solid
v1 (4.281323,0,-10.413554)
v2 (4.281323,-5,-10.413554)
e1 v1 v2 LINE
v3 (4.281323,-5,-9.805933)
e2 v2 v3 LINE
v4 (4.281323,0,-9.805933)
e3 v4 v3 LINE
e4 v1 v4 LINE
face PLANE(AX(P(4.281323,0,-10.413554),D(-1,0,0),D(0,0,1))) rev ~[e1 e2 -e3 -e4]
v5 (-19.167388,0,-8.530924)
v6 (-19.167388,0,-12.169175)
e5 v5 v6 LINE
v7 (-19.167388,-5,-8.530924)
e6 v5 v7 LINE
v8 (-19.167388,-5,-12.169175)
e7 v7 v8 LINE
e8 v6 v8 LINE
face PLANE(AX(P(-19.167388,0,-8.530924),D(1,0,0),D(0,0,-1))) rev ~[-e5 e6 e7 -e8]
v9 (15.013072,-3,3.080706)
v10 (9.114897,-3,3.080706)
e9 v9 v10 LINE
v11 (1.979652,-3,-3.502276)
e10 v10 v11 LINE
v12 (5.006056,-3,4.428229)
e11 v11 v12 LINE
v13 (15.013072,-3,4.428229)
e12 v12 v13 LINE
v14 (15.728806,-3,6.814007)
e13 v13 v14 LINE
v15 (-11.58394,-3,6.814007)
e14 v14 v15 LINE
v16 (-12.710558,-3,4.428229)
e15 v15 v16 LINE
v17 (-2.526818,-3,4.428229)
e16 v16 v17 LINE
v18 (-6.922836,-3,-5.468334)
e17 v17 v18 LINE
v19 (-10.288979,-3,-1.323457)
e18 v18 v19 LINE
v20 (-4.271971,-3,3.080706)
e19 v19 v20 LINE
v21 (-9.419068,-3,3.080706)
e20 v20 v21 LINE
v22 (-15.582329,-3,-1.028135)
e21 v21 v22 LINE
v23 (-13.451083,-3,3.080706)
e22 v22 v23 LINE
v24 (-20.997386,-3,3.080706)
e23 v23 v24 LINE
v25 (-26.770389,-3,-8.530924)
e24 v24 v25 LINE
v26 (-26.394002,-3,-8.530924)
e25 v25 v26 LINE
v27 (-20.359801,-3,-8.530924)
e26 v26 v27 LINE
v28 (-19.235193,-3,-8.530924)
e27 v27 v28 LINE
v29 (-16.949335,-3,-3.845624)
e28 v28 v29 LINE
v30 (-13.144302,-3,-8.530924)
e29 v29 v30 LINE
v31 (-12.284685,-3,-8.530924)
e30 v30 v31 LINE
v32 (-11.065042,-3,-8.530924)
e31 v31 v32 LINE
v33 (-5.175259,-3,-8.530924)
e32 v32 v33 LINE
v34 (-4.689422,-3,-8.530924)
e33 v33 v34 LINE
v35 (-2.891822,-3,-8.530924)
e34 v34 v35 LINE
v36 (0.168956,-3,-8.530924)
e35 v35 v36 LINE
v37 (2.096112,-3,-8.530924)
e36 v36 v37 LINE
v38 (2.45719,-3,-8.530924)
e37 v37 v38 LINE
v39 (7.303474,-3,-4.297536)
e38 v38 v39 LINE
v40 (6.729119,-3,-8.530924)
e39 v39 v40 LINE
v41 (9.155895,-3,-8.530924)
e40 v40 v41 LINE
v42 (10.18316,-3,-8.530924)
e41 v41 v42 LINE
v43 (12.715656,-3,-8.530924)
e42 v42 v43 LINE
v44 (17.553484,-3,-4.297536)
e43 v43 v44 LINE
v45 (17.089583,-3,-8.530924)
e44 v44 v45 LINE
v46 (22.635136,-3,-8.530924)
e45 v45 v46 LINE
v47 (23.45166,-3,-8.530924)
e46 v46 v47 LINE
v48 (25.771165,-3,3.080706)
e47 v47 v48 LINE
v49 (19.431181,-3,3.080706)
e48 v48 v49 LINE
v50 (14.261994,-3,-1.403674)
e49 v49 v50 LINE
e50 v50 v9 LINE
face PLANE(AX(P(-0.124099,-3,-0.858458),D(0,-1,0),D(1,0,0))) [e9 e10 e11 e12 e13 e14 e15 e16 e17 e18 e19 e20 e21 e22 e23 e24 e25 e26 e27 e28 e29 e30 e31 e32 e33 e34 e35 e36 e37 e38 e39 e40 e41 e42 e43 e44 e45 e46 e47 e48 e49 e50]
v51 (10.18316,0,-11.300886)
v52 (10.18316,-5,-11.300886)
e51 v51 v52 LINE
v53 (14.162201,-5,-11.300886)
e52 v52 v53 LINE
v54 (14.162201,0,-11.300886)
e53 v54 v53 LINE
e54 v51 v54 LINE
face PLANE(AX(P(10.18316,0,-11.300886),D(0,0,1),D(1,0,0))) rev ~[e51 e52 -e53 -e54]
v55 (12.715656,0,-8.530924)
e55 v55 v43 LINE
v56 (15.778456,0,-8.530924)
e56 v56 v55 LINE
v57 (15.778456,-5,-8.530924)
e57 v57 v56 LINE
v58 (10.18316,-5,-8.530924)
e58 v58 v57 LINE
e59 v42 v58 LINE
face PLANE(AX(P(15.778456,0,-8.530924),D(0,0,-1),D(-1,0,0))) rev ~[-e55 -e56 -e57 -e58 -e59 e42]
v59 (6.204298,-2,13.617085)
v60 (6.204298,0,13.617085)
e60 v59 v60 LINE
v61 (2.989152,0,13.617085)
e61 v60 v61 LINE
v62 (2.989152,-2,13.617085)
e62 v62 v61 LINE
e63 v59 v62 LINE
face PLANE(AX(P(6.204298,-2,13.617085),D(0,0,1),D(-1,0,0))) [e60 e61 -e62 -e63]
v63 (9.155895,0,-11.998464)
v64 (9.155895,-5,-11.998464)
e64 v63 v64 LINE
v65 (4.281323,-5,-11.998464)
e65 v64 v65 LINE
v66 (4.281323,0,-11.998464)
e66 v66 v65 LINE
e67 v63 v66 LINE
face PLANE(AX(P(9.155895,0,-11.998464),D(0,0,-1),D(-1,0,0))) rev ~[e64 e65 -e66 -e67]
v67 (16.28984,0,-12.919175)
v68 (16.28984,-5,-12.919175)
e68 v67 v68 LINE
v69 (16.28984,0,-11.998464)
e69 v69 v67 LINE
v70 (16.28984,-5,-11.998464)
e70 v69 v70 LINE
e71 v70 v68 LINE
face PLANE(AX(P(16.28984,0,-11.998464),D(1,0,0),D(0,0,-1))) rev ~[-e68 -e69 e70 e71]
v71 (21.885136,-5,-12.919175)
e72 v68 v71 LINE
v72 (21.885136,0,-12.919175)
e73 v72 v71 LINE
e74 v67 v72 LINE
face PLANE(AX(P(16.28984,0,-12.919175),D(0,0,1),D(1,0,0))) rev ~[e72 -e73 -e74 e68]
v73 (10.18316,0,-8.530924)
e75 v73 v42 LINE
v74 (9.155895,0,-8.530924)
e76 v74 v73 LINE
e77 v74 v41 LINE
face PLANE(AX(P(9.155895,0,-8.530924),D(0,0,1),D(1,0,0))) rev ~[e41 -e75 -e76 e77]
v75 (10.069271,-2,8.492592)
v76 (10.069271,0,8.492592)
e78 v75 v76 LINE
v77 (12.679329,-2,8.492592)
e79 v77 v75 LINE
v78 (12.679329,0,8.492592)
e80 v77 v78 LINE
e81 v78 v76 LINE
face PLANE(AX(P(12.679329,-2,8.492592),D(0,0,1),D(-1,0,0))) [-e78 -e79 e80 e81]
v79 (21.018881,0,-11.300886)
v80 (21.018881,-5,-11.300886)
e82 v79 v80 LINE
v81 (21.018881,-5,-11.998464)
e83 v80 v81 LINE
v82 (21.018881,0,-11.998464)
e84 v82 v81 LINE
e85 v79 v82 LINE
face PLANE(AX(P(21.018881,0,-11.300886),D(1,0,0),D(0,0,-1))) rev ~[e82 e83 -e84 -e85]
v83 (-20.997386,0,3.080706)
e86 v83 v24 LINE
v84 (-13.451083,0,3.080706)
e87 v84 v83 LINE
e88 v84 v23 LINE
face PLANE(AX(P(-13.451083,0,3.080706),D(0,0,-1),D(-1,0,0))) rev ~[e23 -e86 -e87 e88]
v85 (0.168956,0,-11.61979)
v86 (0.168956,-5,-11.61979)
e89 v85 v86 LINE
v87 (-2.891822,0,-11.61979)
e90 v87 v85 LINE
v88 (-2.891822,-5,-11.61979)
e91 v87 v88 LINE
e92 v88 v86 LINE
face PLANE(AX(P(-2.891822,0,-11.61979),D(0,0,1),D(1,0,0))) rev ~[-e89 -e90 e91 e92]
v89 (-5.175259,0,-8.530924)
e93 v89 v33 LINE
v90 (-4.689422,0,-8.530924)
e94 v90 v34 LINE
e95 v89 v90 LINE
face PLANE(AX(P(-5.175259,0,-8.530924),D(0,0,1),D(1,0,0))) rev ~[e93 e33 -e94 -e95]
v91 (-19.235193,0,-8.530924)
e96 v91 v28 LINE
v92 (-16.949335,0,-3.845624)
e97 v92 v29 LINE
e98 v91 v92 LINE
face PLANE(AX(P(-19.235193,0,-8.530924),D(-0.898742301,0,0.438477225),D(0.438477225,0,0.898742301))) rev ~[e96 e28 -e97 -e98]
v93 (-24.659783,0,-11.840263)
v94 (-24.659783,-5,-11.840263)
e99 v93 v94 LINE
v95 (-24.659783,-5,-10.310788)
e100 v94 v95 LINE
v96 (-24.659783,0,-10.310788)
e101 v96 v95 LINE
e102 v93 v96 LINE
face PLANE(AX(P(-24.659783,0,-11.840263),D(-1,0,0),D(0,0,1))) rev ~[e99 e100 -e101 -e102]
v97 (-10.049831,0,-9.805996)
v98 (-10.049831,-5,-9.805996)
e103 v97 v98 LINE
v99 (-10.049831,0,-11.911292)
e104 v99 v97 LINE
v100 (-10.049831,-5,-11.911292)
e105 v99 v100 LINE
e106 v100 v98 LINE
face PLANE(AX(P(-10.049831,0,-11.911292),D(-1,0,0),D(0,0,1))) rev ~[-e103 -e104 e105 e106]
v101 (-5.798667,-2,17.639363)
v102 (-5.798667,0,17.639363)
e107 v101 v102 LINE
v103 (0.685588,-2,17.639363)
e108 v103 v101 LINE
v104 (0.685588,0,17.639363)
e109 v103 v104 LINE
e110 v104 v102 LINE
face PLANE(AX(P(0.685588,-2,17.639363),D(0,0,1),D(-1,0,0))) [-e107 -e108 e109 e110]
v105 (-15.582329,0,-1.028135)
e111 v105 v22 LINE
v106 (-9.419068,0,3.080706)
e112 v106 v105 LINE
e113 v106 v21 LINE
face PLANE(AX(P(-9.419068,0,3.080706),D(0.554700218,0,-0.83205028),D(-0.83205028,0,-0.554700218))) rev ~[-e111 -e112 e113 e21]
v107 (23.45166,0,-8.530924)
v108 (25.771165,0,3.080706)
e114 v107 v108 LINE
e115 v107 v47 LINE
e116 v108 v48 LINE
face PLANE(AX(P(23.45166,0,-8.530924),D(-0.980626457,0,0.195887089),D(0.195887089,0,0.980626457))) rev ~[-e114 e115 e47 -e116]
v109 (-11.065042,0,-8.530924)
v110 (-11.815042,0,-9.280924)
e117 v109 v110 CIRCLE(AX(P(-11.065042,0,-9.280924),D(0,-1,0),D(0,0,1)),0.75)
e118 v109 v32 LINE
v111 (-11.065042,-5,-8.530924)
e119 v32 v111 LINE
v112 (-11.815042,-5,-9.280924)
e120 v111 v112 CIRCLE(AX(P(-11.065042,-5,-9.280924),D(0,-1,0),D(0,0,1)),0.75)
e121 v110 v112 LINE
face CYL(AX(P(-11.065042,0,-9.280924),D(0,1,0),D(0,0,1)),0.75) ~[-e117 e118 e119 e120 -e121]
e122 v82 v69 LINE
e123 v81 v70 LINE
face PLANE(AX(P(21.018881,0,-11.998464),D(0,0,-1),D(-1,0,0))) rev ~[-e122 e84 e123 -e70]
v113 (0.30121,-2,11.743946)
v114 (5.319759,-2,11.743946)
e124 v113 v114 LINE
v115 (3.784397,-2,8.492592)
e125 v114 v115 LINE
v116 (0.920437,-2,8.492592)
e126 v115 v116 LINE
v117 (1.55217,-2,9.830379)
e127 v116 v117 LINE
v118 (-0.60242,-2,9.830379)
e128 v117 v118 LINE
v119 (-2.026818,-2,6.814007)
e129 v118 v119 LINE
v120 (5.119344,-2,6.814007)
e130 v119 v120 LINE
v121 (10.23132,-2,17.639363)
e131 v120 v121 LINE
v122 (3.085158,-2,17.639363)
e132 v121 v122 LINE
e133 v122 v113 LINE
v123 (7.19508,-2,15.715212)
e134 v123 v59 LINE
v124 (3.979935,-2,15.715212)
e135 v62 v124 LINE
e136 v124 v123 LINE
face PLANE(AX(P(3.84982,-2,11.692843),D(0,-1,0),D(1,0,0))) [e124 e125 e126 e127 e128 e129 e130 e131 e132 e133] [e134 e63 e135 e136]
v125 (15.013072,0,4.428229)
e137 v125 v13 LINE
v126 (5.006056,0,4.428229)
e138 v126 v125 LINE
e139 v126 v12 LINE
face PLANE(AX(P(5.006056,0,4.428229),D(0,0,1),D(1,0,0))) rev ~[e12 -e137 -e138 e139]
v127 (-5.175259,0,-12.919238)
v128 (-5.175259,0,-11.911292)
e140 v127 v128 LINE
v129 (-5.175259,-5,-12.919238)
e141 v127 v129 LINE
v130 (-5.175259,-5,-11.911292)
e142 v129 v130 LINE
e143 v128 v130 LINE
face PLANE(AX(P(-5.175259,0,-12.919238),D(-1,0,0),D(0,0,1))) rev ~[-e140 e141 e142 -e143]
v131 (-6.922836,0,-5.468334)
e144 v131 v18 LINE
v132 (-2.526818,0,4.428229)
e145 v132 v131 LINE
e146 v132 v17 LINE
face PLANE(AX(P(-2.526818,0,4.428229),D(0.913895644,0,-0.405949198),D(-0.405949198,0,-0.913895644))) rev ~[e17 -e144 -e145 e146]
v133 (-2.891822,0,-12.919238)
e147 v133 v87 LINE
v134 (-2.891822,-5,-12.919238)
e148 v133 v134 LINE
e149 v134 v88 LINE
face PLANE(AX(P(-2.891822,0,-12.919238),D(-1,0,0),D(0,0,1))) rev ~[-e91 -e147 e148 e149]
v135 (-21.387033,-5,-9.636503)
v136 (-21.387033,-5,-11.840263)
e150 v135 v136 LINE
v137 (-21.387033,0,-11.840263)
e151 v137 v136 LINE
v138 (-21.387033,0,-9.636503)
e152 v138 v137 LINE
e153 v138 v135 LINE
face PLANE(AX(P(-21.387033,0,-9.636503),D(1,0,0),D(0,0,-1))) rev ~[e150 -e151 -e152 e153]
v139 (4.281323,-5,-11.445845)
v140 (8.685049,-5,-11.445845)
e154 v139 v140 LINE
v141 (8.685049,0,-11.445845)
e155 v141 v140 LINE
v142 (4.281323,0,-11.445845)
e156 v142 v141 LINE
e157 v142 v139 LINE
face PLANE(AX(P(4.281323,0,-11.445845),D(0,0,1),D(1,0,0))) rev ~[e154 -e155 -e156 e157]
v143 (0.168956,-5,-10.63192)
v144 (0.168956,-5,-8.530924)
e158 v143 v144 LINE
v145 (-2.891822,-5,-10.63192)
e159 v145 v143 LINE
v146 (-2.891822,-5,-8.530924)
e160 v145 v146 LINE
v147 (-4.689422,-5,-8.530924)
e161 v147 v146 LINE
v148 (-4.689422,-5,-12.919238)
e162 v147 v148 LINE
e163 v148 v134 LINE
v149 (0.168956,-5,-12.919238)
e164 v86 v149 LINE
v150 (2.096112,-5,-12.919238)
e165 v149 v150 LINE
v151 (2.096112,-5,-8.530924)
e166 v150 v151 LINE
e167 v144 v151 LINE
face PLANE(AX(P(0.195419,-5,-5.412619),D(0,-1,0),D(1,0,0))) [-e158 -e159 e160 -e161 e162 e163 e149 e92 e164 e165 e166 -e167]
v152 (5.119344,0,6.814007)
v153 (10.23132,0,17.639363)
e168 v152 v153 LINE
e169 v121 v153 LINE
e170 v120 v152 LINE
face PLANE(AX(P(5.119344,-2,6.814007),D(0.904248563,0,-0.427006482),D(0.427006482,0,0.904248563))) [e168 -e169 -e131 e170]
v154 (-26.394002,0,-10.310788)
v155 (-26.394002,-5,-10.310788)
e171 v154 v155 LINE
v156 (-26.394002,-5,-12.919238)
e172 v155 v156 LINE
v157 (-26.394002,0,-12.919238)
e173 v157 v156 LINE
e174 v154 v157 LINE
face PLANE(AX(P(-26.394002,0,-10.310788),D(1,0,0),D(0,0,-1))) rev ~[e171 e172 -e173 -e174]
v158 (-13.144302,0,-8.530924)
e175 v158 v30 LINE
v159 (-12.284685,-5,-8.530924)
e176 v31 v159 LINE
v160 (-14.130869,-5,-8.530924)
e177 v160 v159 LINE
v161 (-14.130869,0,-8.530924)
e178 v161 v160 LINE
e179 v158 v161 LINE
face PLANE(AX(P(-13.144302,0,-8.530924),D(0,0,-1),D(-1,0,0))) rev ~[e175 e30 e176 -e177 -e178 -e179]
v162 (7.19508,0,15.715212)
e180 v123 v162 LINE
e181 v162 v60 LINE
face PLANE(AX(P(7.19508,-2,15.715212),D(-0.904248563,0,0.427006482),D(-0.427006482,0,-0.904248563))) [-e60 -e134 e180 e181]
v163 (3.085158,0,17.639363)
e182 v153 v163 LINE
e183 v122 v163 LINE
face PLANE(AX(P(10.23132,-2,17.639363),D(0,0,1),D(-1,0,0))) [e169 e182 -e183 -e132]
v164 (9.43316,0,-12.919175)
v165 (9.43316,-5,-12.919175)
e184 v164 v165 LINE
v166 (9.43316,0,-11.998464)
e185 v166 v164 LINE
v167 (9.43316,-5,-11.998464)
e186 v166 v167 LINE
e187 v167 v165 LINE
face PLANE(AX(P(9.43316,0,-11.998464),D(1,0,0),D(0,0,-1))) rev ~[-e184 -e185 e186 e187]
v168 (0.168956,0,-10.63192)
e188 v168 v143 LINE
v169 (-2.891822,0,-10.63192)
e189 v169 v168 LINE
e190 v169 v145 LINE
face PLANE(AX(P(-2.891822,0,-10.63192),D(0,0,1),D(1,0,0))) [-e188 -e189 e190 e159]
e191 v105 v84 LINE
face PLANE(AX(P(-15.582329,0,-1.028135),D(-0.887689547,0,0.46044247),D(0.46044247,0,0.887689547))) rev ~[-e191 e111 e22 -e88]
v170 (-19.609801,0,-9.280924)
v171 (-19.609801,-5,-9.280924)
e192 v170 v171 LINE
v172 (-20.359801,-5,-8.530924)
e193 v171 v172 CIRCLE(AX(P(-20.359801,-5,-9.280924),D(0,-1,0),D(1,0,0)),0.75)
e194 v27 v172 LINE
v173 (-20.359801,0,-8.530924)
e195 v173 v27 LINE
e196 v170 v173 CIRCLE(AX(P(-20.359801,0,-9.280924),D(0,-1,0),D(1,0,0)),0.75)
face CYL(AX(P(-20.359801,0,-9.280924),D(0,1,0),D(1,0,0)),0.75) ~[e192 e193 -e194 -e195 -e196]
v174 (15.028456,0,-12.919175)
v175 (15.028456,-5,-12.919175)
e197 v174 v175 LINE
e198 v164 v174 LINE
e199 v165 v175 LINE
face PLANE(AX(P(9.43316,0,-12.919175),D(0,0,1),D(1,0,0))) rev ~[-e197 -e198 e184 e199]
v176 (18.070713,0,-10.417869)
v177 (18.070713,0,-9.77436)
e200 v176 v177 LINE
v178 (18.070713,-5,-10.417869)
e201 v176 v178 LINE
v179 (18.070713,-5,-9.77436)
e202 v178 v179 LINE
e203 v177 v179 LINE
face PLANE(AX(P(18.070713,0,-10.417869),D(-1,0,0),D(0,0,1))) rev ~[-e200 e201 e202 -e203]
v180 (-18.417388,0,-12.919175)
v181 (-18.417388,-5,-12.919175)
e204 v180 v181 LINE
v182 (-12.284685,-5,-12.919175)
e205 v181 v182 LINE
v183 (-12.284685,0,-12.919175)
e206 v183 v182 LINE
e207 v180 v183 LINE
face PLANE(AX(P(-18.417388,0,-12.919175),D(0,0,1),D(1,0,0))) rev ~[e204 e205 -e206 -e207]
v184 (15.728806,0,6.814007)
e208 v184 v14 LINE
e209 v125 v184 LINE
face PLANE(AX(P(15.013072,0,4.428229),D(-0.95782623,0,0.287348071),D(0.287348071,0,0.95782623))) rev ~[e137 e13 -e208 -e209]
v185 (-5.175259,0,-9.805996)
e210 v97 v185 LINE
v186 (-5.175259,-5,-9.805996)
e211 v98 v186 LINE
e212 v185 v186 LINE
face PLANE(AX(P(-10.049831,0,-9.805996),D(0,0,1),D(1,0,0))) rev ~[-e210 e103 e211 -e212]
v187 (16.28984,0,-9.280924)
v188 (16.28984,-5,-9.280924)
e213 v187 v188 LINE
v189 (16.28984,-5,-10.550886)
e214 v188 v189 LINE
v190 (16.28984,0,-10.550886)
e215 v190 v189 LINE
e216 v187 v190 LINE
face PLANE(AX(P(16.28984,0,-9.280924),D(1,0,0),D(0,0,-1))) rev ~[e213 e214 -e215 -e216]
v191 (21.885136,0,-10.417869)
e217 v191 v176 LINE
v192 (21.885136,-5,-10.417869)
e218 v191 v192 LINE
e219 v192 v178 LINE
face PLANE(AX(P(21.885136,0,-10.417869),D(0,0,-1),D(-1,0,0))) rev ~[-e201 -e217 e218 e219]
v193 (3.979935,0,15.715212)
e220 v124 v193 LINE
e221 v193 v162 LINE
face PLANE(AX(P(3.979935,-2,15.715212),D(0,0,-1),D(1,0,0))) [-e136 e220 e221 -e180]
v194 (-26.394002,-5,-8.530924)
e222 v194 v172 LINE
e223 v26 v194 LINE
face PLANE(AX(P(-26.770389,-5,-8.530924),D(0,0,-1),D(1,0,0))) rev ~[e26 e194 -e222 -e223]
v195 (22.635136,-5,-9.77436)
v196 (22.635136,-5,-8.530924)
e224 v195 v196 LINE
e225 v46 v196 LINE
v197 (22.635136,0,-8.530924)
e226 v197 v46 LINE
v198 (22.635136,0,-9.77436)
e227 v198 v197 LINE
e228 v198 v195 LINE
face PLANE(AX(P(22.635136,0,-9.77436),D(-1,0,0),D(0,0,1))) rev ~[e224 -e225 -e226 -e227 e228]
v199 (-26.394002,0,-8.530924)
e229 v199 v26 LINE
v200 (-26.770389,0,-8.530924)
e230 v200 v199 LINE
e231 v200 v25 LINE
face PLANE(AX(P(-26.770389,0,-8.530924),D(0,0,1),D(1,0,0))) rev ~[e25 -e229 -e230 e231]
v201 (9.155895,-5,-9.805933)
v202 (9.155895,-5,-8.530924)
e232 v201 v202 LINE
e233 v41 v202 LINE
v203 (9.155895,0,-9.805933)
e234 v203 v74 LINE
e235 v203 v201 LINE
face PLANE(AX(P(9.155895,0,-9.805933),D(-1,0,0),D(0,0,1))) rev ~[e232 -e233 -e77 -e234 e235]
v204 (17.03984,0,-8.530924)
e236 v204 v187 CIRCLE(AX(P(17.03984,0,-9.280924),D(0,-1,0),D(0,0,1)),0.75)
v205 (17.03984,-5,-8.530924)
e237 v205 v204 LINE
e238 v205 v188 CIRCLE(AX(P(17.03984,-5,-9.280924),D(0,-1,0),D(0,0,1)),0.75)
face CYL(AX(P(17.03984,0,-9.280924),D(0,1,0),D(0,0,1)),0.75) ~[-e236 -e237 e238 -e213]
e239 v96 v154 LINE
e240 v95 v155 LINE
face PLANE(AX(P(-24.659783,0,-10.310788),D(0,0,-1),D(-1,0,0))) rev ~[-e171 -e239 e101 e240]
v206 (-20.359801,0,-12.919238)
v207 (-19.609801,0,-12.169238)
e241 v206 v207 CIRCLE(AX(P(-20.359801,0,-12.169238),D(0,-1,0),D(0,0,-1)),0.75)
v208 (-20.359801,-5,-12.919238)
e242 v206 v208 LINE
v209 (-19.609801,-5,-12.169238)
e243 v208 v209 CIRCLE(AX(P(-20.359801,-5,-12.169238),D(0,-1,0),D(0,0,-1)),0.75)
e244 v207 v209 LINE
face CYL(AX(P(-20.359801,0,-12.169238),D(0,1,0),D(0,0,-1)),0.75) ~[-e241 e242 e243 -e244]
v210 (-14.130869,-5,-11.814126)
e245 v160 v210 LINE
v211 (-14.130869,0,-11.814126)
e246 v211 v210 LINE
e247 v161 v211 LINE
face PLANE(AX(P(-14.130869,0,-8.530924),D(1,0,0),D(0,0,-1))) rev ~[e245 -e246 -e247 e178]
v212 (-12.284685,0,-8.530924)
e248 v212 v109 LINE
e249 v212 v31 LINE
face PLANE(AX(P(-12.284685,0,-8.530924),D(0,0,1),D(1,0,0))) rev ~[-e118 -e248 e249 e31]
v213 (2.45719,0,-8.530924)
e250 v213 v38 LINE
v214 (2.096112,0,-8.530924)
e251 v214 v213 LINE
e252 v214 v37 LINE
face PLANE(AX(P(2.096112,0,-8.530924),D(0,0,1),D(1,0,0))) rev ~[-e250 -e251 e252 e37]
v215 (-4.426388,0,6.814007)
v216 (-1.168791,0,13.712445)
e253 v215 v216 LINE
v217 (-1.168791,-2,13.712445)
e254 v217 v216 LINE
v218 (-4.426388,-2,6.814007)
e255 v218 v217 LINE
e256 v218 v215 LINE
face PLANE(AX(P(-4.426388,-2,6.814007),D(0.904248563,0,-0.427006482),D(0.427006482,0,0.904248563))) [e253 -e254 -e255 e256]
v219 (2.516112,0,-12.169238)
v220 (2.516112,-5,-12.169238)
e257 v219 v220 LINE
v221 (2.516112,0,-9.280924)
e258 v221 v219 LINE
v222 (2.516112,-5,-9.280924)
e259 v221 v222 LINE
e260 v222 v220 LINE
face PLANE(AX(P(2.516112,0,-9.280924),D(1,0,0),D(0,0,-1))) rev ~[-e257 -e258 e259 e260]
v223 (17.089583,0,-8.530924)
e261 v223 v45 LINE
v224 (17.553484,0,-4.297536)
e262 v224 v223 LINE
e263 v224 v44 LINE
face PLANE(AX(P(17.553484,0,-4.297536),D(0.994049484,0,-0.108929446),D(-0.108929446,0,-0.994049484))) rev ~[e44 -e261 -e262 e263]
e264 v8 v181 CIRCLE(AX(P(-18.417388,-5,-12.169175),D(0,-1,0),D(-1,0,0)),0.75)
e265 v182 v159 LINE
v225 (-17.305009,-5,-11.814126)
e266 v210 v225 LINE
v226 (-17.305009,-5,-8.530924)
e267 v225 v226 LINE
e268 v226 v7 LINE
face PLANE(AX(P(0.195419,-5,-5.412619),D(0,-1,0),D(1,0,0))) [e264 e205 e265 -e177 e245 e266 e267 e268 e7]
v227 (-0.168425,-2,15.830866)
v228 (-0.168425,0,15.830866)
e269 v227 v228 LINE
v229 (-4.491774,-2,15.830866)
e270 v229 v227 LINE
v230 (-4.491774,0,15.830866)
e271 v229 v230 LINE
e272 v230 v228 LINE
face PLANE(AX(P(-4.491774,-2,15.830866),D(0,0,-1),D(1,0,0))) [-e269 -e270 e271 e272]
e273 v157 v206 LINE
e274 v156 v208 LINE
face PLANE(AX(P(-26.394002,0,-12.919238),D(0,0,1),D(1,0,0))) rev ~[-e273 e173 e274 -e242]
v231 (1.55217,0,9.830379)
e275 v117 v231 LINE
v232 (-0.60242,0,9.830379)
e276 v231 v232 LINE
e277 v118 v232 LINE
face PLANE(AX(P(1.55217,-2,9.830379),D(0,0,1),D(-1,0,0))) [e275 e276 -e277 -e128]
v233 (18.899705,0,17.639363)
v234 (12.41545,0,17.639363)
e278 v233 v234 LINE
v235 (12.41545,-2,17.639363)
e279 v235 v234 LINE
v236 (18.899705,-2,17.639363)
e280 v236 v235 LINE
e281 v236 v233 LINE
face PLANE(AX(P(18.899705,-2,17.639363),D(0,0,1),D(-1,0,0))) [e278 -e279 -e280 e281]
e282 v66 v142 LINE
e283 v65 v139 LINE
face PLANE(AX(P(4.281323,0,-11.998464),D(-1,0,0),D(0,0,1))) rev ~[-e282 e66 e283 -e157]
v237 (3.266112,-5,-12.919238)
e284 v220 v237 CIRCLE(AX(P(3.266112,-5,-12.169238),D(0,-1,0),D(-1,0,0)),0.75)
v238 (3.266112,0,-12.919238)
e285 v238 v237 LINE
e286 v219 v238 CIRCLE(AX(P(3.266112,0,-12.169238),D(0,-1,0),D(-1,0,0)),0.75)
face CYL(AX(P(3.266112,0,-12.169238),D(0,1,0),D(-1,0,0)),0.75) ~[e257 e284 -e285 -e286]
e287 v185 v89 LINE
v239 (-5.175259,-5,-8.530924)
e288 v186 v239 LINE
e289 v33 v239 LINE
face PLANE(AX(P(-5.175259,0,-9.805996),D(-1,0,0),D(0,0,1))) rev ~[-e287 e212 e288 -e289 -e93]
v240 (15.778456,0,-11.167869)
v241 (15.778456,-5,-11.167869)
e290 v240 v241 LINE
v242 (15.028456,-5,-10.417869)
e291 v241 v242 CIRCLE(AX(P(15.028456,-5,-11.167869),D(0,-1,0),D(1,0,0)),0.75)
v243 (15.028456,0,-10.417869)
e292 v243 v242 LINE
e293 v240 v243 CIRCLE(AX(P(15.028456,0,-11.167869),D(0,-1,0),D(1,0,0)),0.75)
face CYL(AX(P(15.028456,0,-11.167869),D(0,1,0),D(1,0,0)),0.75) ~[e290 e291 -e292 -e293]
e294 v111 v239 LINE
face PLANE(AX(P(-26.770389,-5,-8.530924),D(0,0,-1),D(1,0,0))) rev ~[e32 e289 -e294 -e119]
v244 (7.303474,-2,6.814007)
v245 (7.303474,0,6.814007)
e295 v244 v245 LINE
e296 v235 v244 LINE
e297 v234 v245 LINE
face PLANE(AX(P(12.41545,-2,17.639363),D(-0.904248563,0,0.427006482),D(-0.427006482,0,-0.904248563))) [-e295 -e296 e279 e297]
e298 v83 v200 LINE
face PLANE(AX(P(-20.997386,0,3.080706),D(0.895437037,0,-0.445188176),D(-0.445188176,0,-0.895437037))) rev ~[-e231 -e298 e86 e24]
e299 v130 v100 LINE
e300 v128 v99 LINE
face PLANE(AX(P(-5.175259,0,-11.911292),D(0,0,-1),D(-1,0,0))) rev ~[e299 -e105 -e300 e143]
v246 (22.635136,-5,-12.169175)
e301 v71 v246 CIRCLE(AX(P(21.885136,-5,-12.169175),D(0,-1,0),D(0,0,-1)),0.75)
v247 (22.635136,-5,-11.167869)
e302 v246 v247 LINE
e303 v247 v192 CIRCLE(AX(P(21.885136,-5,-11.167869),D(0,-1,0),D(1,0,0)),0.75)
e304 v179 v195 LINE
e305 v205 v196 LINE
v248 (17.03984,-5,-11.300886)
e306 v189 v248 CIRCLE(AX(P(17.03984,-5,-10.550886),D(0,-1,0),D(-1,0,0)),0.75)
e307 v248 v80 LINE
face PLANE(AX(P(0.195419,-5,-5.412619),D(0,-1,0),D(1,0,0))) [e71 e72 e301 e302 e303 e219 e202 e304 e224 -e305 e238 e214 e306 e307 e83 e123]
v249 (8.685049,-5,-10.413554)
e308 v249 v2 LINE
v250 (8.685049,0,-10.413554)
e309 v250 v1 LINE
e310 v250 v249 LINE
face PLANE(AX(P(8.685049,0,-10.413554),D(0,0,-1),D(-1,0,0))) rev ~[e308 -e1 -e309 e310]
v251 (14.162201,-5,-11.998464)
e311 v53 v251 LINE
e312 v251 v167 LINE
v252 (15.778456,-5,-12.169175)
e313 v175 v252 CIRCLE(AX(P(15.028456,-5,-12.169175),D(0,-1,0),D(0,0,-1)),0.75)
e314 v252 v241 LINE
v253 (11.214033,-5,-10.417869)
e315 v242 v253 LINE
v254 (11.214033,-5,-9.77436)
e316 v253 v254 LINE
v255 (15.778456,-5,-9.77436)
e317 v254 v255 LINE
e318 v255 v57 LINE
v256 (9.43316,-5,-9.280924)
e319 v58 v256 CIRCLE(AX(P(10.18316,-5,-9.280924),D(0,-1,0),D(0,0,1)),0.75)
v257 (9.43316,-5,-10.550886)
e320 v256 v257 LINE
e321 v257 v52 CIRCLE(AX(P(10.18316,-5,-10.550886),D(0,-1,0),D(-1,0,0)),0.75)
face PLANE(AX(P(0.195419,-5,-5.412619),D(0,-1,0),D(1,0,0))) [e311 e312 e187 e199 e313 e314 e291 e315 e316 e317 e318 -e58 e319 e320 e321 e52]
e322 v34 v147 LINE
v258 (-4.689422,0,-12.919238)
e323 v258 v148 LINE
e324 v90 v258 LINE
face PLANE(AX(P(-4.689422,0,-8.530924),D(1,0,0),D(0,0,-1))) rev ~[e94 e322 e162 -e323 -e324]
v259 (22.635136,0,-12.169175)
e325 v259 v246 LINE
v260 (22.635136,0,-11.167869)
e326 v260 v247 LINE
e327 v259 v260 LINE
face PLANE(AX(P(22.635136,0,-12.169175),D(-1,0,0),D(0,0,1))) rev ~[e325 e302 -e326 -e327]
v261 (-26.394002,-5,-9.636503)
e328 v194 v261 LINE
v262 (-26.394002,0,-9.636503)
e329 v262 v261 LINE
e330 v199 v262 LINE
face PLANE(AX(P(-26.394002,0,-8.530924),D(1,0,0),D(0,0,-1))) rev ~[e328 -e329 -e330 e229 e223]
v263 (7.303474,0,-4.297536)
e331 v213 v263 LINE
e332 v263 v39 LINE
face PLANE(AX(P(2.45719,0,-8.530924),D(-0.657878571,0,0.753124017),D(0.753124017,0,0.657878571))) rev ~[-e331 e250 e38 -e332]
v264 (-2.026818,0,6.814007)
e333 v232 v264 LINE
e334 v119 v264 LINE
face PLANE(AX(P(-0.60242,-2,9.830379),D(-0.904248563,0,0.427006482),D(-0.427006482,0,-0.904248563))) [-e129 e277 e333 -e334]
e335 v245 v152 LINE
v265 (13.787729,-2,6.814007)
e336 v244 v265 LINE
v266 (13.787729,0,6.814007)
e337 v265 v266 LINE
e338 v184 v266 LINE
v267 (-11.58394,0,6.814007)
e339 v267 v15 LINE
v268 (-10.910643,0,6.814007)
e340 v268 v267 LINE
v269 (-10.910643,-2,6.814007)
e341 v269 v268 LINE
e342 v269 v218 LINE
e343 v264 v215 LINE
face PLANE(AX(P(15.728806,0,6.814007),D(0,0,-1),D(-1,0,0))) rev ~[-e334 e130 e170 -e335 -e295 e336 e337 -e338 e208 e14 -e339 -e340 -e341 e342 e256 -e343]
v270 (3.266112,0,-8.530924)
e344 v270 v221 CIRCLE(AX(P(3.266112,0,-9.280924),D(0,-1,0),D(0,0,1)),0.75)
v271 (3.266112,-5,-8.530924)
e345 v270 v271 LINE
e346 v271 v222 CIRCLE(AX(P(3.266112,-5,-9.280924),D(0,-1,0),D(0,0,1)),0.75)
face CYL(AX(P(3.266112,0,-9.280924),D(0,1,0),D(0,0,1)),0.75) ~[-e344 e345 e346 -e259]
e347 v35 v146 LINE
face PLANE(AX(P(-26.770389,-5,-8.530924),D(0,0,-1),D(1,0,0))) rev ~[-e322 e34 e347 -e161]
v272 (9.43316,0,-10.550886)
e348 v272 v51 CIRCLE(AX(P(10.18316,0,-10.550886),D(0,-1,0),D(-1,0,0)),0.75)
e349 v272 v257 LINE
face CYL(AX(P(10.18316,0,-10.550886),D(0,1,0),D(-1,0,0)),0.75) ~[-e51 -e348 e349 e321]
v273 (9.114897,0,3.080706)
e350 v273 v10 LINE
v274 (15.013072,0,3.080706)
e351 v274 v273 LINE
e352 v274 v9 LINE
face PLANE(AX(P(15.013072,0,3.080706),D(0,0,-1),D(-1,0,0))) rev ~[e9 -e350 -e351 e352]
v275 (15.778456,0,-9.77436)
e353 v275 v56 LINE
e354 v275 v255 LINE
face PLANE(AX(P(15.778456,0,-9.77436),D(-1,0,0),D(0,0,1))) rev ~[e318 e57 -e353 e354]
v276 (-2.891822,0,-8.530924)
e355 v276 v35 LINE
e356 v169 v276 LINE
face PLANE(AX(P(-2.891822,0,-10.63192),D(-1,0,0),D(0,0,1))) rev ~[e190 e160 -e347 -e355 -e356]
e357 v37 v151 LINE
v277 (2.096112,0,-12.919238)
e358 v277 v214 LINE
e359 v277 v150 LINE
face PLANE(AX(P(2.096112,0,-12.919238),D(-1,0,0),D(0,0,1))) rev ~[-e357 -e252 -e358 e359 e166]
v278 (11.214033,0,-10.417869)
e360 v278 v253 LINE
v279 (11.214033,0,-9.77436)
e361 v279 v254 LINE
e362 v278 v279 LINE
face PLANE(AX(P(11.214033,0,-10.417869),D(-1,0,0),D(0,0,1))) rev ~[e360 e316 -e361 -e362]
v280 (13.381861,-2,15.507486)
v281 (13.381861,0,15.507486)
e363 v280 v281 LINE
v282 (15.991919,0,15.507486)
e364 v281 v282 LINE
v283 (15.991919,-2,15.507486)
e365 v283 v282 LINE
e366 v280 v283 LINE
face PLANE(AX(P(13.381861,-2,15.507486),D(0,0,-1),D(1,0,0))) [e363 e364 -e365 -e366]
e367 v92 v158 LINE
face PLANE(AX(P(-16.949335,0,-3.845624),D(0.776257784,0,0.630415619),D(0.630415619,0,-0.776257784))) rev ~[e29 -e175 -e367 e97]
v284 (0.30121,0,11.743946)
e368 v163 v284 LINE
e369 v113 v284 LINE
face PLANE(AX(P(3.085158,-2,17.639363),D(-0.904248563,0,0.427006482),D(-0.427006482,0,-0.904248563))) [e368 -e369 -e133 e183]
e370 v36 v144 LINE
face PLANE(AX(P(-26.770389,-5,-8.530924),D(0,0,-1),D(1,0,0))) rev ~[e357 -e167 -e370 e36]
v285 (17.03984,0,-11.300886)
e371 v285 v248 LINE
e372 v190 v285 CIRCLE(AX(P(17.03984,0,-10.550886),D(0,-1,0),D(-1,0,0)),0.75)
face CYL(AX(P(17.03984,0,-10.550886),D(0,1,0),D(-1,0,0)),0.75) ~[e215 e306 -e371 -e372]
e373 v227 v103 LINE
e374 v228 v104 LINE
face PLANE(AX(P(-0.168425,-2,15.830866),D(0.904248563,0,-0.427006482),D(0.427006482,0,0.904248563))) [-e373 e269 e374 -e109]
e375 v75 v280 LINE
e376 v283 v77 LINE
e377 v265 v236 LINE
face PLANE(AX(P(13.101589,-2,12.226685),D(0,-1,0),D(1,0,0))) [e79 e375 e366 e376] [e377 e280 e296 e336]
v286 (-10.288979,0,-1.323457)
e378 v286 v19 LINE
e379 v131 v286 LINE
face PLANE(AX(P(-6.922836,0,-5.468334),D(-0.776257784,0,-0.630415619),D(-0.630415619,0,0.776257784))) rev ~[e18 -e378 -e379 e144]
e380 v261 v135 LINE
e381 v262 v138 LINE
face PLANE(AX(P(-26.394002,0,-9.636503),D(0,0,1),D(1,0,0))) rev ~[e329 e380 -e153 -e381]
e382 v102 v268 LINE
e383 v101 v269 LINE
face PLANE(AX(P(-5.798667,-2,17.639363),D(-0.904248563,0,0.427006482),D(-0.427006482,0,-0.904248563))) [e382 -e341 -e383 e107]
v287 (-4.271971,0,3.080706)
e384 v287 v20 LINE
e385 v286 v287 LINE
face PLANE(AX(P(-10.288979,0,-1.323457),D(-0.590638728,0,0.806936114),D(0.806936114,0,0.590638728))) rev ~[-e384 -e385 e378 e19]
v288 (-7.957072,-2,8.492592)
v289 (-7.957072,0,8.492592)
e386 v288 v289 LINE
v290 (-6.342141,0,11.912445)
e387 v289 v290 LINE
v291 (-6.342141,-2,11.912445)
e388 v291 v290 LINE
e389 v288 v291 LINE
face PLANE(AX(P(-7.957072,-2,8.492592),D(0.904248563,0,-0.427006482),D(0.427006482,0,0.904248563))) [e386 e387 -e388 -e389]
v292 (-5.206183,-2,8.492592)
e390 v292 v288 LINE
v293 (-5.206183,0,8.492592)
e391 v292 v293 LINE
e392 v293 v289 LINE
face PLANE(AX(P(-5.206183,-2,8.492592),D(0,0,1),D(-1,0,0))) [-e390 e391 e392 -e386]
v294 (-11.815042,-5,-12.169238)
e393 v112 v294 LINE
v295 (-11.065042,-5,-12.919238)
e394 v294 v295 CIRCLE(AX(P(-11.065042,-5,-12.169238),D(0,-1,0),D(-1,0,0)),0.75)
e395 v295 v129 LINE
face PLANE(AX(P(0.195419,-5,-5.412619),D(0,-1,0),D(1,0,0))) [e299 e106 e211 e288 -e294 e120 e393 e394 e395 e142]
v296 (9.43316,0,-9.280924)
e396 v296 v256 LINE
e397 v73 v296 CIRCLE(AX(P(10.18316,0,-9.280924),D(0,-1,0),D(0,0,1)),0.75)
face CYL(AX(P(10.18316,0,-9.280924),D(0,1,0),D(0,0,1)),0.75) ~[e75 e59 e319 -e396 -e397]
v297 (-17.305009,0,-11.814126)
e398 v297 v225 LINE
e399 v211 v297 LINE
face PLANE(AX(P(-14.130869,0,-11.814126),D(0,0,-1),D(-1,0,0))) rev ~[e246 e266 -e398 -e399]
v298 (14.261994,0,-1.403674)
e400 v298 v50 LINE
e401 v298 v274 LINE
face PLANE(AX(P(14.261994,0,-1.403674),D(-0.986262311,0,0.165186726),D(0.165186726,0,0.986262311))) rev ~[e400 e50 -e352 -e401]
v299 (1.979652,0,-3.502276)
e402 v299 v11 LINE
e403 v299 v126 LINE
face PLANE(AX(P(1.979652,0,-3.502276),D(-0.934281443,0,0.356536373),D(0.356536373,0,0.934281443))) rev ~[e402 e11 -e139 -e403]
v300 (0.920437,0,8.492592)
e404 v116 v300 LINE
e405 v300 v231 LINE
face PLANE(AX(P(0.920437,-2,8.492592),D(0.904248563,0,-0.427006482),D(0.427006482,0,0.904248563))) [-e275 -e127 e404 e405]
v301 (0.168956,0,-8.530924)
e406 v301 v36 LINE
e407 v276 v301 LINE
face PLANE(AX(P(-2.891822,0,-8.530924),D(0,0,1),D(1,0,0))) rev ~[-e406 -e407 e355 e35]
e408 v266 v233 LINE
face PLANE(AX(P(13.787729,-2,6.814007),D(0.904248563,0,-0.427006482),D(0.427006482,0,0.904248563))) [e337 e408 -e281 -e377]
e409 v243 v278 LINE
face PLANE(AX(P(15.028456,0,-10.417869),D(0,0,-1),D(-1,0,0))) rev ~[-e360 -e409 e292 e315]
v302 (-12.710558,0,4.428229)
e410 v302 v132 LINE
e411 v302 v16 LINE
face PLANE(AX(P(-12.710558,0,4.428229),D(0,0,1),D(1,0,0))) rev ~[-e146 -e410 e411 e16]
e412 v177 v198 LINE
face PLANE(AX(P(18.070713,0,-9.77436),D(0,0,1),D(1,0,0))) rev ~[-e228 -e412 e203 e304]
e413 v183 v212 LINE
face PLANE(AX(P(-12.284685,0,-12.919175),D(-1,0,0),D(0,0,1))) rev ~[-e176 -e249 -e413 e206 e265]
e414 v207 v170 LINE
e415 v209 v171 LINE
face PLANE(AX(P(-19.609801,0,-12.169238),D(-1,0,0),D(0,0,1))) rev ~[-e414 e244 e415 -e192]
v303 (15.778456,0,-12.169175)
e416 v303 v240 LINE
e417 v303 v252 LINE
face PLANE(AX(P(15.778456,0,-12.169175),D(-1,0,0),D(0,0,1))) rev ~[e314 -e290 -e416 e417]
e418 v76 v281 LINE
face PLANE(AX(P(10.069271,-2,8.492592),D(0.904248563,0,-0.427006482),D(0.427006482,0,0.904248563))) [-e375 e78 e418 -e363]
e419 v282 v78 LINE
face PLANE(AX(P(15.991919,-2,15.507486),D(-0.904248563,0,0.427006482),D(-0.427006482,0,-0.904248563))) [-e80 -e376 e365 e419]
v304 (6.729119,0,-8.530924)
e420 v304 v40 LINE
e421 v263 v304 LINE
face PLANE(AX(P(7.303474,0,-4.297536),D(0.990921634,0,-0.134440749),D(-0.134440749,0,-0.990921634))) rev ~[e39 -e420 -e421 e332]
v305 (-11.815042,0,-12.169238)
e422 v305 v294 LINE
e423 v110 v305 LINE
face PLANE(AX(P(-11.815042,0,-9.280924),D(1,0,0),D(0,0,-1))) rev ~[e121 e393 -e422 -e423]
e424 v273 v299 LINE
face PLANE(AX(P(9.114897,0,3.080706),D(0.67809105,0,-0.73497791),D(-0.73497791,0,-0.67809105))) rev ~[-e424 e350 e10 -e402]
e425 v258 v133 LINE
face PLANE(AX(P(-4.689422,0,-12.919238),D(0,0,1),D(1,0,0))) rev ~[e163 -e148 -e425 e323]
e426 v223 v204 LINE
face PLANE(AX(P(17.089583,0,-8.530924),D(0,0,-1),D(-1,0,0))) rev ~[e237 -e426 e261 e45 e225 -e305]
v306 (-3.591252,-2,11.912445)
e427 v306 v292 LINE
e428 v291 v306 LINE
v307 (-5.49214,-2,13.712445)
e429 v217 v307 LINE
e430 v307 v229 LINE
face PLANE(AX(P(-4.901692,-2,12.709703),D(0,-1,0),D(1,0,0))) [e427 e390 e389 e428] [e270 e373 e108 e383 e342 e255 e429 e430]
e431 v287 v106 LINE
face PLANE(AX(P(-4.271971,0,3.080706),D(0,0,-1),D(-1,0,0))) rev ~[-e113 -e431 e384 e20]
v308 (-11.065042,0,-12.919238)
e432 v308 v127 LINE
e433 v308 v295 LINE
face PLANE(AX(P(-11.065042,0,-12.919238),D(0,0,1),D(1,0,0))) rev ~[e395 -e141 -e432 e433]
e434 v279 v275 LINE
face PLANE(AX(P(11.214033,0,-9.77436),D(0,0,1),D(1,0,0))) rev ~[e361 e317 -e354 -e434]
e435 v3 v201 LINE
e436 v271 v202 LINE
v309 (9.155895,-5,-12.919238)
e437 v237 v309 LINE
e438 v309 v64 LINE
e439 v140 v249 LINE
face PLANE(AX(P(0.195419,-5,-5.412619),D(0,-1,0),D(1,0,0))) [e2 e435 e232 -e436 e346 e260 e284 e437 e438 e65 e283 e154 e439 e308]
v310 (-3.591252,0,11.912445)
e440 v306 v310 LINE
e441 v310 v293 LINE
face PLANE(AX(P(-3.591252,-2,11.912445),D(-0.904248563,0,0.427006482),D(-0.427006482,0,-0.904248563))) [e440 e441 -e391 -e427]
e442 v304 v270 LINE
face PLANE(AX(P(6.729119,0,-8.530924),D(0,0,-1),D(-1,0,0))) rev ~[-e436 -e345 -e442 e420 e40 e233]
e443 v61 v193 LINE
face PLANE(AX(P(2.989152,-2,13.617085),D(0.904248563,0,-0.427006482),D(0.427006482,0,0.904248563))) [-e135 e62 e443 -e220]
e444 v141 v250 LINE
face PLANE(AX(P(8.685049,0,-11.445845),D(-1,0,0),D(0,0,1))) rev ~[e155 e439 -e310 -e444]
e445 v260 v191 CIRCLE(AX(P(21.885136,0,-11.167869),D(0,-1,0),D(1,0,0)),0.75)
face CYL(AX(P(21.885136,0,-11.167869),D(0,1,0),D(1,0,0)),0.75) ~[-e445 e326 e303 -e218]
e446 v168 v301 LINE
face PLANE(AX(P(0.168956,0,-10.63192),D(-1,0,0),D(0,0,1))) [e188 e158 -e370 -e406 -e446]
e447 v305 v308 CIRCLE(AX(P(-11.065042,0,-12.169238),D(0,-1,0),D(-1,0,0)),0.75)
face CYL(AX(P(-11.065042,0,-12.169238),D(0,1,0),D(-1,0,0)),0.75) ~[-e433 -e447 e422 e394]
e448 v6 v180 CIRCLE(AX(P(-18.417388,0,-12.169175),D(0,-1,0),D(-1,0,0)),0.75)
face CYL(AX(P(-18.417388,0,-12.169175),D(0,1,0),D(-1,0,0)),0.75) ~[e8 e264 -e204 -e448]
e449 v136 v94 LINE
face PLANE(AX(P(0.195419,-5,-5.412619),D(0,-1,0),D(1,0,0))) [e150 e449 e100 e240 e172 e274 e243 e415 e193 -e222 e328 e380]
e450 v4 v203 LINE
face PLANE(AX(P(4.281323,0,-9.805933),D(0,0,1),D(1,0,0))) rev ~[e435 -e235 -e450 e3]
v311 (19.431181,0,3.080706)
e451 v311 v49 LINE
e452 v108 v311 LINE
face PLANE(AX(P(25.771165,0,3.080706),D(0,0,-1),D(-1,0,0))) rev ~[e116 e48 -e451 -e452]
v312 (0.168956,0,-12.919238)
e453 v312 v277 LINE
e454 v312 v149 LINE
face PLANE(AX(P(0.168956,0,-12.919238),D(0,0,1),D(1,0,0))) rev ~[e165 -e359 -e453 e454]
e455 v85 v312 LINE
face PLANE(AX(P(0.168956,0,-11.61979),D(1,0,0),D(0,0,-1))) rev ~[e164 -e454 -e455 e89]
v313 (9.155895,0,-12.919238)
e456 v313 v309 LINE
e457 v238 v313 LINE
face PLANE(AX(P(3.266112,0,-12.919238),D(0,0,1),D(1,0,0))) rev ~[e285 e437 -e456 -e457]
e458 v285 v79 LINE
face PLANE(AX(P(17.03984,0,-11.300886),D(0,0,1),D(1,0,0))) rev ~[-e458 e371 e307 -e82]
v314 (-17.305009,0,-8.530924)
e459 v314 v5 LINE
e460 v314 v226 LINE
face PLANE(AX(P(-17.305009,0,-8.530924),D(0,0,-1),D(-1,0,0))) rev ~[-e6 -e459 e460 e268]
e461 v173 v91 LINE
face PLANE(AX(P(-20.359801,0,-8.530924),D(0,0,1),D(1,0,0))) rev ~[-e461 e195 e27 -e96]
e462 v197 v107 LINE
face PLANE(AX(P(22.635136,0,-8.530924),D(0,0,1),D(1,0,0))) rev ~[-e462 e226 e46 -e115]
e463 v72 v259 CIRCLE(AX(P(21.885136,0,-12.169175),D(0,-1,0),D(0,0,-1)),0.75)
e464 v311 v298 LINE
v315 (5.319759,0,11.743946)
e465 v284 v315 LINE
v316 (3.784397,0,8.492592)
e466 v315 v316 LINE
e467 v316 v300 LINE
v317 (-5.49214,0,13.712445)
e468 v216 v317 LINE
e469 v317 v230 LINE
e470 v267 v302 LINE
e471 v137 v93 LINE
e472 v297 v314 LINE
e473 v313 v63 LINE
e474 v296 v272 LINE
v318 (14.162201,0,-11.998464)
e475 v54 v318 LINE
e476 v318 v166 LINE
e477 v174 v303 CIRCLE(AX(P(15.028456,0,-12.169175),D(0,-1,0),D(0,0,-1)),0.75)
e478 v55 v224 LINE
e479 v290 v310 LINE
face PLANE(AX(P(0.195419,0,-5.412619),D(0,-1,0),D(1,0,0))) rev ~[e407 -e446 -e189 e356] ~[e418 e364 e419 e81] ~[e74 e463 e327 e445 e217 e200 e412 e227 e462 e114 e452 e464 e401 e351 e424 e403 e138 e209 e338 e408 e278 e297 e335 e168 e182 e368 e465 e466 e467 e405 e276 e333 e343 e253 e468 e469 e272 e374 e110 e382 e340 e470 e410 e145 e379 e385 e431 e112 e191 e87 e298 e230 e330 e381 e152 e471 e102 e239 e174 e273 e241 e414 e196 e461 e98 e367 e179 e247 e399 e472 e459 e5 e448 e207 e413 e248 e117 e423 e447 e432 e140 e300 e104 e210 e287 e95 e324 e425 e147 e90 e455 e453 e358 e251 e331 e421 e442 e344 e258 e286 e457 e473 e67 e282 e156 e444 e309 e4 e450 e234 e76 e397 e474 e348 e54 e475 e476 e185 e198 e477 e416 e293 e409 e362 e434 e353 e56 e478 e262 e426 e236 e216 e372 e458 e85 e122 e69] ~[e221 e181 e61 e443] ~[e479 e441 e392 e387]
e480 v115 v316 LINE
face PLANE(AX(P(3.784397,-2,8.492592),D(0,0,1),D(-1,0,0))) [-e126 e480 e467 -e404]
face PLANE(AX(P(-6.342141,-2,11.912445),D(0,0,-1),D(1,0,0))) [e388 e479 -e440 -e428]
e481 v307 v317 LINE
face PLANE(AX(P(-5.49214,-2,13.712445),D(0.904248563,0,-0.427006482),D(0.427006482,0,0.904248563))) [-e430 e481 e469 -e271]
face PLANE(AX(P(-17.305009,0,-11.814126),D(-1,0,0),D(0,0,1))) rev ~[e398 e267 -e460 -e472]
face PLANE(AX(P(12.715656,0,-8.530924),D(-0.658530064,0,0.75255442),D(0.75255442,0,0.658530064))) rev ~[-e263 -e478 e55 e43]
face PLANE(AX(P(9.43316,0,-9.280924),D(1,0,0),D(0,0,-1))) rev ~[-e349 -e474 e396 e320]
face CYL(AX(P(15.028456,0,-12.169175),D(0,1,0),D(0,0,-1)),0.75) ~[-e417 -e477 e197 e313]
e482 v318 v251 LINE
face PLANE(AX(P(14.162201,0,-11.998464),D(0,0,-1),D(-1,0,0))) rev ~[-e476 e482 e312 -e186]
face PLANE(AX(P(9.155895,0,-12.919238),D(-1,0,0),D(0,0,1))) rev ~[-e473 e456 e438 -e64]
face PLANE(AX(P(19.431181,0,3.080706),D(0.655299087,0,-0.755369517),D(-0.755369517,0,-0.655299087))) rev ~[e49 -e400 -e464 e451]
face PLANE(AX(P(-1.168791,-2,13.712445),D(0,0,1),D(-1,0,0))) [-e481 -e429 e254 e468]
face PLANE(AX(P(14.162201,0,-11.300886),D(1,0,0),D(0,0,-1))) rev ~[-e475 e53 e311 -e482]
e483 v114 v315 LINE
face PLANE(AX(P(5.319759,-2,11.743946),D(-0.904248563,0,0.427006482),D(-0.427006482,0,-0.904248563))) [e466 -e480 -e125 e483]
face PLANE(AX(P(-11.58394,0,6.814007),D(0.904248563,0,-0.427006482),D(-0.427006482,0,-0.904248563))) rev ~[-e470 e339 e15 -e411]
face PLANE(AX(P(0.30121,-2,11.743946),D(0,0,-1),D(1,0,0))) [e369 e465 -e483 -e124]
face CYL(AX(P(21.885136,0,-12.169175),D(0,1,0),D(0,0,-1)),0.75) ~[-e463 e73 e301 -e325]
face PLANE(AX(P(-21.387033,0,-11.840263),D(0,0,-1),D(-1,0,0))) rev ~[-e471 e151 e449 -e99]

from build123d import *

# Parameters (mm, degrees)
F0_W     = 3.0607780209
F0_H     = 2.1009956449
F1_DEPTH = 5
F3_DEPTH = 2
F4_START = -3
F4_DEPTH = 2


with BuildPart() as f1:
    # F0 (on Front) → F1 (new body)
    with BuildSketch(Plane.XZ):
        with BuildLine():
            Line((-13.4510826319, 3.0807058793), (-20.9973859143, 3.0807058793))
            Line((-20.9973859143, 3.0807058793), (-26.770388545, -8.5309240967))
            Line((-26.770388545, -8.5309240967), (-26.3940021396, -8.5309240967))
            Line((-26.3940021396, -8.5309240967), (-26.3940021396, -9.6365026161))
            Line((-26.3940021396, -9.6365026161), (-21.3870331645, -9.6365026161))
            Line((-21.3870331645, -9.6365026161), (-21.3870331645, -11.8402632847))
            Line((-21.3870331645, -11.8402632847), (-24.6597826481, -11.8402632847))
            Line((-24.6597826481, -11.8402632847), (-24.6597826481, -10.3107876107))
            Line((-24.6597826481, -10.3107876107), (-26.3940021396, -10.3107876107))
            Line((-26.3940021396, -10.3107876107), (-26.3940021396, -12.9192377403))
            Line((-26.3940021396, -12.9192377403), (-20.359800871, -12.9192377403))
            ThreePointArc((-20.359800871, -12.9192377403), (-19.8294707851, -12.6995678262), (-19.609800871, -12.1692377403))
            Line((-19.609800871, -12.1692377403), (-19.609800871, -9.2809240967))
            ThreePointArc((-19.609800871, -9.2809240967), (-19.8294707851, -8.7505940108), (-20.359800871, -8.5309240967))
            Line((-20.359800871, -8.5309240967), (-19.2351932671, -8.5309240967))
            Line((-19.2351932671, -8.5309240967), (-16.9493351132, -3.8456239272))
            Line((-16.9493351132, -3.8456239272), (-13.144302211, -8.5309240967))
            Line((-13.144302211, -8.5309240967), (-14.130868949, -8.5309240967))
            Line((-14.130868949, -8.5309240967), (-14.130868949, -11.8141257167))
            Line((-14.130868949, -11.8141257167), (-17.3050090671, -11.8141257167))
            Line((-17.3050090671, -11.8141257167), (-17.3050090671, -8.5309240967))
            Line((-17.3050090671, -8.5309240967), (-19.167387858, -8.5309240967))
            Line((-19.167387858, -8.5309240967), (-19.167387858, -12.1691745073))
            ThreePointArc((-19.167387858, -12.1691745073), (-18.9477179439, -12.6995045932), (-18.417387858, -12.9191745073))
            Line((-18.417387858, -12.9191745073), (-12.2846849263, -12.9191745073))
            Line((-12.2846849263, -12.9191745073), (-12.2846849263, -8.5309240967))
            Line((-12.2846849263, -8.5309240967), (-11.065042235, -8.5309240967))
            ThreePointArc((-11.065042235, -8.5309240967), (-11.5953723208, -8.7505940108), (-11.815042235, -9.2809240967))
            Line((-11.815042235, -9.2809240967), (-11.815042235, -12.1692377403))
            ThreePointArc((-11.815042235, -12.1692377403), (-11.5953723208, -12.6995678262), (-11.065042235, -12.9192377403))
            Line((-11.065042235, -12.9192377403), (-5.1752589643, -12.9192377403))
            Line((-5.1752589643, -12.9192377403), (-5.1752589643, -11.9112924635))
            Line((-5.1752589643, -11.9112924635), (-10.0498311222, -11.9112924635))
            Line((-10.0498311222, -11.9112924635), (-10.0498311222, -9.8059958741))
            Line((-10.0498311222, -9.8059958741), (-5.1752589643, -9.8059958741))
            Line((-5.1752589643, -9.8059958741), (-5.1752589643, -8.5309240967))
            Line((-5.1752589643, -8.5309240967), (-4.6894219704, -8.5309240967))
            Line((-4.6894219704, -8.5309240967), (-4.6894219704, -12.9192377403))
            Line((-4.6894219704, -12.9192377403), (-2.891822136, -12.9192377403))
            Line((-2.891822136, -12.9192377403), (-2.891822136, -11.6197903603))
            Line((-2.891822136, -11.6197903603), (0.1689558849, -11.6197903603))
            Line((0.1689558849, -11.6197903603), (0.1689558849, -12.9192377403))
            Line((0.1689558849, -12.9192377403), (2.096112119, -12.9192377403))
            Line((2.096112119, -12.9192377403), (2.096112119, -8.5309240967))
            Line((2.096112119, -8.5309240967), (2.4571896065, -8.5309240967))
            Line((2.4571896065, -8.5309240967), (7.3034735397, -4.2975358665))
            Line((7.3034735397, -4.2975358665), (6.7291194573, -8.5309240967))
            Line((6.7291194573, -8.5309240967), (3.2661118247, -8.5309240967))
            ThreePointArc((3.2661118247, -8.5309240967), (2.7357817388, -8.7505940108), (2.5161118247, -9.2809240967))
            Line((2.5161118247, -9.2809240967), (2.5161118247, -12.1692377403))
            ThreePointArc((2.5161118247, -12.1692377403), (2.7357817388, -12.6995678262), (3.2661118247, -12.9192377403))
            Line((3.2661118247, -12.9192377403), (9.1558950953, -12.9192377403))
            Line((9.1558950953, -12.9192377403), (9.1558950953, -11.9984643534))
            Line((9.1558950953, -11.9984643534), (4.2813229375, -11.9984643534))
            Line((4.2813229375, -11.9984643534), (4.2813229375, -11.445844546))
            Line((4.2813229375, -11.445844546), (8.6850486696, -11.445844546))
            Line((8.6850486696, -11.445844546), (8.6850486696, -10.4135535657))
            Line((8.6850486696, -10.4135535657), (4.2813229375, -10.4135535657))
            Line((4.2813229375, -10.4135535657), (4.2813229375, -9.805932641))
            Line((4.2813229375, -9.805932641), (9.1558950953, -9.805932641))
            Line((9.1558950953, -9.805932641), (9.1558950953, -8.5309240967))
            Line((9.1558950953, -8.5309240967), (10.1831596047, -8.5309240967))
            ThreePointArc((10.1831596047, -8.5309240967), (9.6528295188, -8.7505940108), (9.4331596047, -9.2809240967))
            Line((9.4331596047, -9.2809240967), (9.4331596047, -10.550885953))
            ThreePointArc((9.4331596047, -10.550885953), (9.6528295188, -11.0812160389), (10.1831596047, -11.300885953))
            Line((10.1831596047, -11.300885953), (14.1622014344, -11.300885953))
            Line((14.1622014344, -11.300885953), (14.1622014344, -11.9984643534))
            Line((14.1622014344, -11.9984643534), (9.4331596047, -11.9984643534))
            Line((9.4331596047, -11.9984643534), (9.4331596047, -12.9191745073))
            Line((9.4331596047, -12.9191745073), (15.0284558833, -12.9191745073))
            ThreePointArc((15.0284558833, -12.9191745073), (15.5587859692, -12.6995045932), (15.7784558833, -12.1691745073))
            Line((15.7784558833, -12.1691745073), (15.7784558833, -11.1678693146))
            ThreePointArc((15.7784558833, -11.1678693146), (15.5587859692, -10.6375392287), (15.0284558833, -10.4178693146))
            Line((15.0284558833, -10.4178693146), (11.2140327692, -10.4178693146))
            Line((11.2140327692, -10.4178693146), (11.2140327692, -9.7743598744))
            Line((11.2140327692, -9.7743598744), (15.7784558833, -9.7743598744))
            Line((15.7784558833, -9.7743598744), (15.7784558833, -8.5309240967))
            Line((15.7784558833, -8.5309240967), (12.7156563103, -8.5309240967))
            Line((12.7156563103, -8.5309240967), (17.5534840673, -4.2975358665))
            Line((17.5534840673, -4.2975358665), (17.0895829797, -8.5309240967))
            Line((17.0895829797, -8.5309240967), (17.0398395211, -8.5309240967))
            ThreePointArc((17.0398395211, -8.5309240967), (16.5095094352, -8.7505940108), (16.2898395211, -9.2809240967))
            Line((16.2898395211, -9.2809240967), (16.2898395211, -10.550885953))
            ThreePointArc((16.2898395211, -10.550885953), (16.5095094352, -11.0812160389), (17.0398395211, -11.300885953))
            Line((17.0398395211, -11.300885953), (21.0188813508, -11.300885953))
            Line((21.0188813508, -11.300885953), (21.0188813508, -11.9984643534))
            Line((21.0188813508, -11.9984643534), (16.2898395211, -11.9984643534))
            Line((16.2898395211, -11.9984643534), (16.2898395211, -12.9191745073))
            Line((16.2898395211, -12.9191745073), (21.8851357996, -12.9191745073))
            ThreePointArc((21.8851357996, -12.9191745073), (22.4154658855, -12.6995045932), (22.6351357996, -12.1691745073))
            Line((22.6351357996, -12.1691745073), (22.6351357996, -11.1678693146))
            ThreePointArc((22.6351357996, -11.1678693146), (22.4154658855, -10.6375392287), (21.8851357996, -10.4178693146))
            Line((21.8851357996, -10.4178693146), (18.0707126856, -10.4178693146))
            Line((18.0707126856, -10.4178693146), (18.0707126856, -9.7743598744))
            Line((18.0707126856, -9.7743598744), (22.6351357996, -9.7743598744))
            Line((22.6351357996, -9.7743598744), (22.6351357996, -8.5309240967))
            Line((22.6351357996, -8.5309240967), (23.4516598284, -8.5309240967))
            Line((23.4516598284, -8.5309240967), (25.7711652666, 3.0807058793))
            Line((25.7711652666, 3.0807058793), (19.431181252, 3.0807058793))
            Line((19.431181252, 3.0807058793), (14.2619935796, -1.4036741341))
            Line((14.2619935796, -1.4036741341), (15.0130717084, 3.0807058793))
            Line((15.0130717084, 3.0807058793), (9.1148968786, 3.0807058793))
            Line((9.1148968786, 3.0807058793), (1.9796516281, -3.5022755619))
            Line((1.9796516281, -3.5022755619), (5.0060558133, 4.4282288291))
            Line((5.0060558133, 4.4282288291), (15.0130717084, 4.4282288291))
            Line((15.0130717084, 4.4282288291), (15.7288057171, 6.8140071817))
            Line((15.7288057171, 6.8140071817), (-11.583940126, 6.8140071817))
            Line((-11.583940126, 6.8140071817), (-12.7105582505, 4.4282288291))
            Line((-12.7105582505, 4.4282288291), (-2.5268180761, 4.4282288291))
            Line((-2.5268180761, 4.4282288291), (-6.9228359498, -5.4683336057))
            Line((-6.9228359498, -5.4683336057), (-10.288979272, -1.3234569953))
            Line((-10.288979272, -1.3234569953), (-4.2719710618, 3.0807058793))
            Line((-4.2719710618, 3.0807058793), (-9.4190677628, 3.0807058793))
            Line((-9.4190677628, 3.0807058793), (-15.5823286623, -1.0281349532))
            Line((-15.5823286623, -1.0281349532), (-13.4510826319, 3.0807058793))
        make_face()
        with Locations((-1.3614331256, -9.5814219192)):
            Rectangle(F0_W, F0_H, mode=Mode.SUBTRACT)
    extrude(amount=F1_DEPTH)

    # F2 (on face) → F3 (cut)
    with BuildSketch(Plane.XZ.offset(5)):
        Polygon((-26.770388545, 6.8140071817), (-26.770388545, -8.5309240967), (26.5221912414, -8.5309240967), (26.5221912414, 6.8140071817), (13.7877286713, 6.8140071817), (7.3034735397, 6.8140071817), (5.1193437539, 6.8140071817), (4.2332103827, 6.8140071817), (2.1055981025, 6.8140071817), (-2.0268179942, 6.8140071817), (-4.4263883249, 6.8140071817), (-10.9106434565, 6.8140071817), align=None)
        Polygon((-5.7986674306, 17.639362709), (-10.9106434565, 6.8140071817), (-4.4263883249, 6.8140071817), (-1.1687912286, 13.7124446064), (-5.4921403697, 13.7124446064), (-4.4917744037, 15.8308655821), (-0.1684252625, 15.8308655821), (0.685587701, 17.639362709), align=None)
        Polygon((-7.9570718311, 8.492592384), (-6.3421407991, 11.9124446064), (-3.5912522867, 11.9124446064), (-5.2061833186, 8.492592384), align=None, mode=Mode.SUBTRACT)
        Polygon((7.3034735397, 6.8140071817), (13.7877286713, 6.8140071817), (18.8997046972, 17.639362709), (12.4154495655, 17.639362709), align=None)
        Polygon((10.0692709763, 8.492592384), (13.3818611683, 15.5074857175), (15.9919188063, 15.5074857175), (12.6793286143, 8.492592384), align=None, mode=Mode.SUBTRACT)
        Polygon((-0.6024195059, 9.8303789273), (-2.0268179942, 6.8140071817), (2.1055981025, 6.8140071817), (4.2332103827, 6.8140071817), (5.1193437539, 6.8140071817), (10.2313197798, 17.639362709), (3.0851580317, 17.639362709), (0.3012099711, 11.7439462647), (5.3197594389, 11.7439462647), (3.7843971086, 8.492592384), (0.9204373378, 8.492592384), (1.5521701913, 9.8303789273), align=None)
        Polygon((2.98915204, 13.6170848409), (3.9799346353, 15.7152116299), (7.1950801421, 15.7152116299), (6.2042975468, 13.6170848409), align=None, mode=Mode.SUBTRACT)
    extrude(amount=-F3_DEPTH, mode=Mode.SUBTRACT)

    # F2 (on face) → F4 (join)
    with BuildSketch(Plane.XZ.offset(5).offset(F4_START)):
        Polygon((-5.7986674306, 17.639362709), (-10.9106434565, 6.8140071817), (-4.4263883249, 6.8140071817), (-1.1687912286, 13.7124446064), (-5.4921403697, 13.7124446064), (-4.4917744037, 15.8308655821), (-0.1684252625, 15.8308655821), (0.685587701, 17.639362709), align=None)
        Polygon((-7.9570718311, 8.492592384), (-6.3421407991, 11.9124446064), (-3.5912522867, 11.9124446064), (-5.2061833186, 8.492592384), align=None, mode=Mode.SUBTRACT)
        Polygon((-0.6024195059, 9.8303789273), (-2.0268179942, 6.8140071817), (2.1055981025, 6.8140071817), (4.2332103827, 6.8140071817), (5.1193437539, 6.8140071817), (10.2313197798, 17.639362709), (3.0851580317, 17.639362709), (0.3012099711, 11.7439462647), (5.3197594389, 11.7439462647), (3.7843971086, 8.492592384), (0.9204373378, 8.492592384), (1.5521701913, 9.8303789273), align=None)
        Polygon((2.98915204, 13.6170848409), (3.9799346353, 15.7152116299), (7.1950801421, 15.7152116299), (6.2042975468, 13.6170848409), align=None, mode=Mode.SUBTRACT)
        Polygon((12.4154495655, 17.639362709), (7.3034735397, 6.8140071817), (13.7877286713, 6.8140071817), (18.8997046972, 17.639362709), align=None)
        Polygon((10.0692709763, 8.492592384), (13.3818611683, 15.5074857175), (15.9919188063, 15.5074857175), (12.6793286143, 8.492592384), align=None, mode=Mode.SUBTRACT)
    extrude(amount=-F4_DEPTH)


solid = f1.part
